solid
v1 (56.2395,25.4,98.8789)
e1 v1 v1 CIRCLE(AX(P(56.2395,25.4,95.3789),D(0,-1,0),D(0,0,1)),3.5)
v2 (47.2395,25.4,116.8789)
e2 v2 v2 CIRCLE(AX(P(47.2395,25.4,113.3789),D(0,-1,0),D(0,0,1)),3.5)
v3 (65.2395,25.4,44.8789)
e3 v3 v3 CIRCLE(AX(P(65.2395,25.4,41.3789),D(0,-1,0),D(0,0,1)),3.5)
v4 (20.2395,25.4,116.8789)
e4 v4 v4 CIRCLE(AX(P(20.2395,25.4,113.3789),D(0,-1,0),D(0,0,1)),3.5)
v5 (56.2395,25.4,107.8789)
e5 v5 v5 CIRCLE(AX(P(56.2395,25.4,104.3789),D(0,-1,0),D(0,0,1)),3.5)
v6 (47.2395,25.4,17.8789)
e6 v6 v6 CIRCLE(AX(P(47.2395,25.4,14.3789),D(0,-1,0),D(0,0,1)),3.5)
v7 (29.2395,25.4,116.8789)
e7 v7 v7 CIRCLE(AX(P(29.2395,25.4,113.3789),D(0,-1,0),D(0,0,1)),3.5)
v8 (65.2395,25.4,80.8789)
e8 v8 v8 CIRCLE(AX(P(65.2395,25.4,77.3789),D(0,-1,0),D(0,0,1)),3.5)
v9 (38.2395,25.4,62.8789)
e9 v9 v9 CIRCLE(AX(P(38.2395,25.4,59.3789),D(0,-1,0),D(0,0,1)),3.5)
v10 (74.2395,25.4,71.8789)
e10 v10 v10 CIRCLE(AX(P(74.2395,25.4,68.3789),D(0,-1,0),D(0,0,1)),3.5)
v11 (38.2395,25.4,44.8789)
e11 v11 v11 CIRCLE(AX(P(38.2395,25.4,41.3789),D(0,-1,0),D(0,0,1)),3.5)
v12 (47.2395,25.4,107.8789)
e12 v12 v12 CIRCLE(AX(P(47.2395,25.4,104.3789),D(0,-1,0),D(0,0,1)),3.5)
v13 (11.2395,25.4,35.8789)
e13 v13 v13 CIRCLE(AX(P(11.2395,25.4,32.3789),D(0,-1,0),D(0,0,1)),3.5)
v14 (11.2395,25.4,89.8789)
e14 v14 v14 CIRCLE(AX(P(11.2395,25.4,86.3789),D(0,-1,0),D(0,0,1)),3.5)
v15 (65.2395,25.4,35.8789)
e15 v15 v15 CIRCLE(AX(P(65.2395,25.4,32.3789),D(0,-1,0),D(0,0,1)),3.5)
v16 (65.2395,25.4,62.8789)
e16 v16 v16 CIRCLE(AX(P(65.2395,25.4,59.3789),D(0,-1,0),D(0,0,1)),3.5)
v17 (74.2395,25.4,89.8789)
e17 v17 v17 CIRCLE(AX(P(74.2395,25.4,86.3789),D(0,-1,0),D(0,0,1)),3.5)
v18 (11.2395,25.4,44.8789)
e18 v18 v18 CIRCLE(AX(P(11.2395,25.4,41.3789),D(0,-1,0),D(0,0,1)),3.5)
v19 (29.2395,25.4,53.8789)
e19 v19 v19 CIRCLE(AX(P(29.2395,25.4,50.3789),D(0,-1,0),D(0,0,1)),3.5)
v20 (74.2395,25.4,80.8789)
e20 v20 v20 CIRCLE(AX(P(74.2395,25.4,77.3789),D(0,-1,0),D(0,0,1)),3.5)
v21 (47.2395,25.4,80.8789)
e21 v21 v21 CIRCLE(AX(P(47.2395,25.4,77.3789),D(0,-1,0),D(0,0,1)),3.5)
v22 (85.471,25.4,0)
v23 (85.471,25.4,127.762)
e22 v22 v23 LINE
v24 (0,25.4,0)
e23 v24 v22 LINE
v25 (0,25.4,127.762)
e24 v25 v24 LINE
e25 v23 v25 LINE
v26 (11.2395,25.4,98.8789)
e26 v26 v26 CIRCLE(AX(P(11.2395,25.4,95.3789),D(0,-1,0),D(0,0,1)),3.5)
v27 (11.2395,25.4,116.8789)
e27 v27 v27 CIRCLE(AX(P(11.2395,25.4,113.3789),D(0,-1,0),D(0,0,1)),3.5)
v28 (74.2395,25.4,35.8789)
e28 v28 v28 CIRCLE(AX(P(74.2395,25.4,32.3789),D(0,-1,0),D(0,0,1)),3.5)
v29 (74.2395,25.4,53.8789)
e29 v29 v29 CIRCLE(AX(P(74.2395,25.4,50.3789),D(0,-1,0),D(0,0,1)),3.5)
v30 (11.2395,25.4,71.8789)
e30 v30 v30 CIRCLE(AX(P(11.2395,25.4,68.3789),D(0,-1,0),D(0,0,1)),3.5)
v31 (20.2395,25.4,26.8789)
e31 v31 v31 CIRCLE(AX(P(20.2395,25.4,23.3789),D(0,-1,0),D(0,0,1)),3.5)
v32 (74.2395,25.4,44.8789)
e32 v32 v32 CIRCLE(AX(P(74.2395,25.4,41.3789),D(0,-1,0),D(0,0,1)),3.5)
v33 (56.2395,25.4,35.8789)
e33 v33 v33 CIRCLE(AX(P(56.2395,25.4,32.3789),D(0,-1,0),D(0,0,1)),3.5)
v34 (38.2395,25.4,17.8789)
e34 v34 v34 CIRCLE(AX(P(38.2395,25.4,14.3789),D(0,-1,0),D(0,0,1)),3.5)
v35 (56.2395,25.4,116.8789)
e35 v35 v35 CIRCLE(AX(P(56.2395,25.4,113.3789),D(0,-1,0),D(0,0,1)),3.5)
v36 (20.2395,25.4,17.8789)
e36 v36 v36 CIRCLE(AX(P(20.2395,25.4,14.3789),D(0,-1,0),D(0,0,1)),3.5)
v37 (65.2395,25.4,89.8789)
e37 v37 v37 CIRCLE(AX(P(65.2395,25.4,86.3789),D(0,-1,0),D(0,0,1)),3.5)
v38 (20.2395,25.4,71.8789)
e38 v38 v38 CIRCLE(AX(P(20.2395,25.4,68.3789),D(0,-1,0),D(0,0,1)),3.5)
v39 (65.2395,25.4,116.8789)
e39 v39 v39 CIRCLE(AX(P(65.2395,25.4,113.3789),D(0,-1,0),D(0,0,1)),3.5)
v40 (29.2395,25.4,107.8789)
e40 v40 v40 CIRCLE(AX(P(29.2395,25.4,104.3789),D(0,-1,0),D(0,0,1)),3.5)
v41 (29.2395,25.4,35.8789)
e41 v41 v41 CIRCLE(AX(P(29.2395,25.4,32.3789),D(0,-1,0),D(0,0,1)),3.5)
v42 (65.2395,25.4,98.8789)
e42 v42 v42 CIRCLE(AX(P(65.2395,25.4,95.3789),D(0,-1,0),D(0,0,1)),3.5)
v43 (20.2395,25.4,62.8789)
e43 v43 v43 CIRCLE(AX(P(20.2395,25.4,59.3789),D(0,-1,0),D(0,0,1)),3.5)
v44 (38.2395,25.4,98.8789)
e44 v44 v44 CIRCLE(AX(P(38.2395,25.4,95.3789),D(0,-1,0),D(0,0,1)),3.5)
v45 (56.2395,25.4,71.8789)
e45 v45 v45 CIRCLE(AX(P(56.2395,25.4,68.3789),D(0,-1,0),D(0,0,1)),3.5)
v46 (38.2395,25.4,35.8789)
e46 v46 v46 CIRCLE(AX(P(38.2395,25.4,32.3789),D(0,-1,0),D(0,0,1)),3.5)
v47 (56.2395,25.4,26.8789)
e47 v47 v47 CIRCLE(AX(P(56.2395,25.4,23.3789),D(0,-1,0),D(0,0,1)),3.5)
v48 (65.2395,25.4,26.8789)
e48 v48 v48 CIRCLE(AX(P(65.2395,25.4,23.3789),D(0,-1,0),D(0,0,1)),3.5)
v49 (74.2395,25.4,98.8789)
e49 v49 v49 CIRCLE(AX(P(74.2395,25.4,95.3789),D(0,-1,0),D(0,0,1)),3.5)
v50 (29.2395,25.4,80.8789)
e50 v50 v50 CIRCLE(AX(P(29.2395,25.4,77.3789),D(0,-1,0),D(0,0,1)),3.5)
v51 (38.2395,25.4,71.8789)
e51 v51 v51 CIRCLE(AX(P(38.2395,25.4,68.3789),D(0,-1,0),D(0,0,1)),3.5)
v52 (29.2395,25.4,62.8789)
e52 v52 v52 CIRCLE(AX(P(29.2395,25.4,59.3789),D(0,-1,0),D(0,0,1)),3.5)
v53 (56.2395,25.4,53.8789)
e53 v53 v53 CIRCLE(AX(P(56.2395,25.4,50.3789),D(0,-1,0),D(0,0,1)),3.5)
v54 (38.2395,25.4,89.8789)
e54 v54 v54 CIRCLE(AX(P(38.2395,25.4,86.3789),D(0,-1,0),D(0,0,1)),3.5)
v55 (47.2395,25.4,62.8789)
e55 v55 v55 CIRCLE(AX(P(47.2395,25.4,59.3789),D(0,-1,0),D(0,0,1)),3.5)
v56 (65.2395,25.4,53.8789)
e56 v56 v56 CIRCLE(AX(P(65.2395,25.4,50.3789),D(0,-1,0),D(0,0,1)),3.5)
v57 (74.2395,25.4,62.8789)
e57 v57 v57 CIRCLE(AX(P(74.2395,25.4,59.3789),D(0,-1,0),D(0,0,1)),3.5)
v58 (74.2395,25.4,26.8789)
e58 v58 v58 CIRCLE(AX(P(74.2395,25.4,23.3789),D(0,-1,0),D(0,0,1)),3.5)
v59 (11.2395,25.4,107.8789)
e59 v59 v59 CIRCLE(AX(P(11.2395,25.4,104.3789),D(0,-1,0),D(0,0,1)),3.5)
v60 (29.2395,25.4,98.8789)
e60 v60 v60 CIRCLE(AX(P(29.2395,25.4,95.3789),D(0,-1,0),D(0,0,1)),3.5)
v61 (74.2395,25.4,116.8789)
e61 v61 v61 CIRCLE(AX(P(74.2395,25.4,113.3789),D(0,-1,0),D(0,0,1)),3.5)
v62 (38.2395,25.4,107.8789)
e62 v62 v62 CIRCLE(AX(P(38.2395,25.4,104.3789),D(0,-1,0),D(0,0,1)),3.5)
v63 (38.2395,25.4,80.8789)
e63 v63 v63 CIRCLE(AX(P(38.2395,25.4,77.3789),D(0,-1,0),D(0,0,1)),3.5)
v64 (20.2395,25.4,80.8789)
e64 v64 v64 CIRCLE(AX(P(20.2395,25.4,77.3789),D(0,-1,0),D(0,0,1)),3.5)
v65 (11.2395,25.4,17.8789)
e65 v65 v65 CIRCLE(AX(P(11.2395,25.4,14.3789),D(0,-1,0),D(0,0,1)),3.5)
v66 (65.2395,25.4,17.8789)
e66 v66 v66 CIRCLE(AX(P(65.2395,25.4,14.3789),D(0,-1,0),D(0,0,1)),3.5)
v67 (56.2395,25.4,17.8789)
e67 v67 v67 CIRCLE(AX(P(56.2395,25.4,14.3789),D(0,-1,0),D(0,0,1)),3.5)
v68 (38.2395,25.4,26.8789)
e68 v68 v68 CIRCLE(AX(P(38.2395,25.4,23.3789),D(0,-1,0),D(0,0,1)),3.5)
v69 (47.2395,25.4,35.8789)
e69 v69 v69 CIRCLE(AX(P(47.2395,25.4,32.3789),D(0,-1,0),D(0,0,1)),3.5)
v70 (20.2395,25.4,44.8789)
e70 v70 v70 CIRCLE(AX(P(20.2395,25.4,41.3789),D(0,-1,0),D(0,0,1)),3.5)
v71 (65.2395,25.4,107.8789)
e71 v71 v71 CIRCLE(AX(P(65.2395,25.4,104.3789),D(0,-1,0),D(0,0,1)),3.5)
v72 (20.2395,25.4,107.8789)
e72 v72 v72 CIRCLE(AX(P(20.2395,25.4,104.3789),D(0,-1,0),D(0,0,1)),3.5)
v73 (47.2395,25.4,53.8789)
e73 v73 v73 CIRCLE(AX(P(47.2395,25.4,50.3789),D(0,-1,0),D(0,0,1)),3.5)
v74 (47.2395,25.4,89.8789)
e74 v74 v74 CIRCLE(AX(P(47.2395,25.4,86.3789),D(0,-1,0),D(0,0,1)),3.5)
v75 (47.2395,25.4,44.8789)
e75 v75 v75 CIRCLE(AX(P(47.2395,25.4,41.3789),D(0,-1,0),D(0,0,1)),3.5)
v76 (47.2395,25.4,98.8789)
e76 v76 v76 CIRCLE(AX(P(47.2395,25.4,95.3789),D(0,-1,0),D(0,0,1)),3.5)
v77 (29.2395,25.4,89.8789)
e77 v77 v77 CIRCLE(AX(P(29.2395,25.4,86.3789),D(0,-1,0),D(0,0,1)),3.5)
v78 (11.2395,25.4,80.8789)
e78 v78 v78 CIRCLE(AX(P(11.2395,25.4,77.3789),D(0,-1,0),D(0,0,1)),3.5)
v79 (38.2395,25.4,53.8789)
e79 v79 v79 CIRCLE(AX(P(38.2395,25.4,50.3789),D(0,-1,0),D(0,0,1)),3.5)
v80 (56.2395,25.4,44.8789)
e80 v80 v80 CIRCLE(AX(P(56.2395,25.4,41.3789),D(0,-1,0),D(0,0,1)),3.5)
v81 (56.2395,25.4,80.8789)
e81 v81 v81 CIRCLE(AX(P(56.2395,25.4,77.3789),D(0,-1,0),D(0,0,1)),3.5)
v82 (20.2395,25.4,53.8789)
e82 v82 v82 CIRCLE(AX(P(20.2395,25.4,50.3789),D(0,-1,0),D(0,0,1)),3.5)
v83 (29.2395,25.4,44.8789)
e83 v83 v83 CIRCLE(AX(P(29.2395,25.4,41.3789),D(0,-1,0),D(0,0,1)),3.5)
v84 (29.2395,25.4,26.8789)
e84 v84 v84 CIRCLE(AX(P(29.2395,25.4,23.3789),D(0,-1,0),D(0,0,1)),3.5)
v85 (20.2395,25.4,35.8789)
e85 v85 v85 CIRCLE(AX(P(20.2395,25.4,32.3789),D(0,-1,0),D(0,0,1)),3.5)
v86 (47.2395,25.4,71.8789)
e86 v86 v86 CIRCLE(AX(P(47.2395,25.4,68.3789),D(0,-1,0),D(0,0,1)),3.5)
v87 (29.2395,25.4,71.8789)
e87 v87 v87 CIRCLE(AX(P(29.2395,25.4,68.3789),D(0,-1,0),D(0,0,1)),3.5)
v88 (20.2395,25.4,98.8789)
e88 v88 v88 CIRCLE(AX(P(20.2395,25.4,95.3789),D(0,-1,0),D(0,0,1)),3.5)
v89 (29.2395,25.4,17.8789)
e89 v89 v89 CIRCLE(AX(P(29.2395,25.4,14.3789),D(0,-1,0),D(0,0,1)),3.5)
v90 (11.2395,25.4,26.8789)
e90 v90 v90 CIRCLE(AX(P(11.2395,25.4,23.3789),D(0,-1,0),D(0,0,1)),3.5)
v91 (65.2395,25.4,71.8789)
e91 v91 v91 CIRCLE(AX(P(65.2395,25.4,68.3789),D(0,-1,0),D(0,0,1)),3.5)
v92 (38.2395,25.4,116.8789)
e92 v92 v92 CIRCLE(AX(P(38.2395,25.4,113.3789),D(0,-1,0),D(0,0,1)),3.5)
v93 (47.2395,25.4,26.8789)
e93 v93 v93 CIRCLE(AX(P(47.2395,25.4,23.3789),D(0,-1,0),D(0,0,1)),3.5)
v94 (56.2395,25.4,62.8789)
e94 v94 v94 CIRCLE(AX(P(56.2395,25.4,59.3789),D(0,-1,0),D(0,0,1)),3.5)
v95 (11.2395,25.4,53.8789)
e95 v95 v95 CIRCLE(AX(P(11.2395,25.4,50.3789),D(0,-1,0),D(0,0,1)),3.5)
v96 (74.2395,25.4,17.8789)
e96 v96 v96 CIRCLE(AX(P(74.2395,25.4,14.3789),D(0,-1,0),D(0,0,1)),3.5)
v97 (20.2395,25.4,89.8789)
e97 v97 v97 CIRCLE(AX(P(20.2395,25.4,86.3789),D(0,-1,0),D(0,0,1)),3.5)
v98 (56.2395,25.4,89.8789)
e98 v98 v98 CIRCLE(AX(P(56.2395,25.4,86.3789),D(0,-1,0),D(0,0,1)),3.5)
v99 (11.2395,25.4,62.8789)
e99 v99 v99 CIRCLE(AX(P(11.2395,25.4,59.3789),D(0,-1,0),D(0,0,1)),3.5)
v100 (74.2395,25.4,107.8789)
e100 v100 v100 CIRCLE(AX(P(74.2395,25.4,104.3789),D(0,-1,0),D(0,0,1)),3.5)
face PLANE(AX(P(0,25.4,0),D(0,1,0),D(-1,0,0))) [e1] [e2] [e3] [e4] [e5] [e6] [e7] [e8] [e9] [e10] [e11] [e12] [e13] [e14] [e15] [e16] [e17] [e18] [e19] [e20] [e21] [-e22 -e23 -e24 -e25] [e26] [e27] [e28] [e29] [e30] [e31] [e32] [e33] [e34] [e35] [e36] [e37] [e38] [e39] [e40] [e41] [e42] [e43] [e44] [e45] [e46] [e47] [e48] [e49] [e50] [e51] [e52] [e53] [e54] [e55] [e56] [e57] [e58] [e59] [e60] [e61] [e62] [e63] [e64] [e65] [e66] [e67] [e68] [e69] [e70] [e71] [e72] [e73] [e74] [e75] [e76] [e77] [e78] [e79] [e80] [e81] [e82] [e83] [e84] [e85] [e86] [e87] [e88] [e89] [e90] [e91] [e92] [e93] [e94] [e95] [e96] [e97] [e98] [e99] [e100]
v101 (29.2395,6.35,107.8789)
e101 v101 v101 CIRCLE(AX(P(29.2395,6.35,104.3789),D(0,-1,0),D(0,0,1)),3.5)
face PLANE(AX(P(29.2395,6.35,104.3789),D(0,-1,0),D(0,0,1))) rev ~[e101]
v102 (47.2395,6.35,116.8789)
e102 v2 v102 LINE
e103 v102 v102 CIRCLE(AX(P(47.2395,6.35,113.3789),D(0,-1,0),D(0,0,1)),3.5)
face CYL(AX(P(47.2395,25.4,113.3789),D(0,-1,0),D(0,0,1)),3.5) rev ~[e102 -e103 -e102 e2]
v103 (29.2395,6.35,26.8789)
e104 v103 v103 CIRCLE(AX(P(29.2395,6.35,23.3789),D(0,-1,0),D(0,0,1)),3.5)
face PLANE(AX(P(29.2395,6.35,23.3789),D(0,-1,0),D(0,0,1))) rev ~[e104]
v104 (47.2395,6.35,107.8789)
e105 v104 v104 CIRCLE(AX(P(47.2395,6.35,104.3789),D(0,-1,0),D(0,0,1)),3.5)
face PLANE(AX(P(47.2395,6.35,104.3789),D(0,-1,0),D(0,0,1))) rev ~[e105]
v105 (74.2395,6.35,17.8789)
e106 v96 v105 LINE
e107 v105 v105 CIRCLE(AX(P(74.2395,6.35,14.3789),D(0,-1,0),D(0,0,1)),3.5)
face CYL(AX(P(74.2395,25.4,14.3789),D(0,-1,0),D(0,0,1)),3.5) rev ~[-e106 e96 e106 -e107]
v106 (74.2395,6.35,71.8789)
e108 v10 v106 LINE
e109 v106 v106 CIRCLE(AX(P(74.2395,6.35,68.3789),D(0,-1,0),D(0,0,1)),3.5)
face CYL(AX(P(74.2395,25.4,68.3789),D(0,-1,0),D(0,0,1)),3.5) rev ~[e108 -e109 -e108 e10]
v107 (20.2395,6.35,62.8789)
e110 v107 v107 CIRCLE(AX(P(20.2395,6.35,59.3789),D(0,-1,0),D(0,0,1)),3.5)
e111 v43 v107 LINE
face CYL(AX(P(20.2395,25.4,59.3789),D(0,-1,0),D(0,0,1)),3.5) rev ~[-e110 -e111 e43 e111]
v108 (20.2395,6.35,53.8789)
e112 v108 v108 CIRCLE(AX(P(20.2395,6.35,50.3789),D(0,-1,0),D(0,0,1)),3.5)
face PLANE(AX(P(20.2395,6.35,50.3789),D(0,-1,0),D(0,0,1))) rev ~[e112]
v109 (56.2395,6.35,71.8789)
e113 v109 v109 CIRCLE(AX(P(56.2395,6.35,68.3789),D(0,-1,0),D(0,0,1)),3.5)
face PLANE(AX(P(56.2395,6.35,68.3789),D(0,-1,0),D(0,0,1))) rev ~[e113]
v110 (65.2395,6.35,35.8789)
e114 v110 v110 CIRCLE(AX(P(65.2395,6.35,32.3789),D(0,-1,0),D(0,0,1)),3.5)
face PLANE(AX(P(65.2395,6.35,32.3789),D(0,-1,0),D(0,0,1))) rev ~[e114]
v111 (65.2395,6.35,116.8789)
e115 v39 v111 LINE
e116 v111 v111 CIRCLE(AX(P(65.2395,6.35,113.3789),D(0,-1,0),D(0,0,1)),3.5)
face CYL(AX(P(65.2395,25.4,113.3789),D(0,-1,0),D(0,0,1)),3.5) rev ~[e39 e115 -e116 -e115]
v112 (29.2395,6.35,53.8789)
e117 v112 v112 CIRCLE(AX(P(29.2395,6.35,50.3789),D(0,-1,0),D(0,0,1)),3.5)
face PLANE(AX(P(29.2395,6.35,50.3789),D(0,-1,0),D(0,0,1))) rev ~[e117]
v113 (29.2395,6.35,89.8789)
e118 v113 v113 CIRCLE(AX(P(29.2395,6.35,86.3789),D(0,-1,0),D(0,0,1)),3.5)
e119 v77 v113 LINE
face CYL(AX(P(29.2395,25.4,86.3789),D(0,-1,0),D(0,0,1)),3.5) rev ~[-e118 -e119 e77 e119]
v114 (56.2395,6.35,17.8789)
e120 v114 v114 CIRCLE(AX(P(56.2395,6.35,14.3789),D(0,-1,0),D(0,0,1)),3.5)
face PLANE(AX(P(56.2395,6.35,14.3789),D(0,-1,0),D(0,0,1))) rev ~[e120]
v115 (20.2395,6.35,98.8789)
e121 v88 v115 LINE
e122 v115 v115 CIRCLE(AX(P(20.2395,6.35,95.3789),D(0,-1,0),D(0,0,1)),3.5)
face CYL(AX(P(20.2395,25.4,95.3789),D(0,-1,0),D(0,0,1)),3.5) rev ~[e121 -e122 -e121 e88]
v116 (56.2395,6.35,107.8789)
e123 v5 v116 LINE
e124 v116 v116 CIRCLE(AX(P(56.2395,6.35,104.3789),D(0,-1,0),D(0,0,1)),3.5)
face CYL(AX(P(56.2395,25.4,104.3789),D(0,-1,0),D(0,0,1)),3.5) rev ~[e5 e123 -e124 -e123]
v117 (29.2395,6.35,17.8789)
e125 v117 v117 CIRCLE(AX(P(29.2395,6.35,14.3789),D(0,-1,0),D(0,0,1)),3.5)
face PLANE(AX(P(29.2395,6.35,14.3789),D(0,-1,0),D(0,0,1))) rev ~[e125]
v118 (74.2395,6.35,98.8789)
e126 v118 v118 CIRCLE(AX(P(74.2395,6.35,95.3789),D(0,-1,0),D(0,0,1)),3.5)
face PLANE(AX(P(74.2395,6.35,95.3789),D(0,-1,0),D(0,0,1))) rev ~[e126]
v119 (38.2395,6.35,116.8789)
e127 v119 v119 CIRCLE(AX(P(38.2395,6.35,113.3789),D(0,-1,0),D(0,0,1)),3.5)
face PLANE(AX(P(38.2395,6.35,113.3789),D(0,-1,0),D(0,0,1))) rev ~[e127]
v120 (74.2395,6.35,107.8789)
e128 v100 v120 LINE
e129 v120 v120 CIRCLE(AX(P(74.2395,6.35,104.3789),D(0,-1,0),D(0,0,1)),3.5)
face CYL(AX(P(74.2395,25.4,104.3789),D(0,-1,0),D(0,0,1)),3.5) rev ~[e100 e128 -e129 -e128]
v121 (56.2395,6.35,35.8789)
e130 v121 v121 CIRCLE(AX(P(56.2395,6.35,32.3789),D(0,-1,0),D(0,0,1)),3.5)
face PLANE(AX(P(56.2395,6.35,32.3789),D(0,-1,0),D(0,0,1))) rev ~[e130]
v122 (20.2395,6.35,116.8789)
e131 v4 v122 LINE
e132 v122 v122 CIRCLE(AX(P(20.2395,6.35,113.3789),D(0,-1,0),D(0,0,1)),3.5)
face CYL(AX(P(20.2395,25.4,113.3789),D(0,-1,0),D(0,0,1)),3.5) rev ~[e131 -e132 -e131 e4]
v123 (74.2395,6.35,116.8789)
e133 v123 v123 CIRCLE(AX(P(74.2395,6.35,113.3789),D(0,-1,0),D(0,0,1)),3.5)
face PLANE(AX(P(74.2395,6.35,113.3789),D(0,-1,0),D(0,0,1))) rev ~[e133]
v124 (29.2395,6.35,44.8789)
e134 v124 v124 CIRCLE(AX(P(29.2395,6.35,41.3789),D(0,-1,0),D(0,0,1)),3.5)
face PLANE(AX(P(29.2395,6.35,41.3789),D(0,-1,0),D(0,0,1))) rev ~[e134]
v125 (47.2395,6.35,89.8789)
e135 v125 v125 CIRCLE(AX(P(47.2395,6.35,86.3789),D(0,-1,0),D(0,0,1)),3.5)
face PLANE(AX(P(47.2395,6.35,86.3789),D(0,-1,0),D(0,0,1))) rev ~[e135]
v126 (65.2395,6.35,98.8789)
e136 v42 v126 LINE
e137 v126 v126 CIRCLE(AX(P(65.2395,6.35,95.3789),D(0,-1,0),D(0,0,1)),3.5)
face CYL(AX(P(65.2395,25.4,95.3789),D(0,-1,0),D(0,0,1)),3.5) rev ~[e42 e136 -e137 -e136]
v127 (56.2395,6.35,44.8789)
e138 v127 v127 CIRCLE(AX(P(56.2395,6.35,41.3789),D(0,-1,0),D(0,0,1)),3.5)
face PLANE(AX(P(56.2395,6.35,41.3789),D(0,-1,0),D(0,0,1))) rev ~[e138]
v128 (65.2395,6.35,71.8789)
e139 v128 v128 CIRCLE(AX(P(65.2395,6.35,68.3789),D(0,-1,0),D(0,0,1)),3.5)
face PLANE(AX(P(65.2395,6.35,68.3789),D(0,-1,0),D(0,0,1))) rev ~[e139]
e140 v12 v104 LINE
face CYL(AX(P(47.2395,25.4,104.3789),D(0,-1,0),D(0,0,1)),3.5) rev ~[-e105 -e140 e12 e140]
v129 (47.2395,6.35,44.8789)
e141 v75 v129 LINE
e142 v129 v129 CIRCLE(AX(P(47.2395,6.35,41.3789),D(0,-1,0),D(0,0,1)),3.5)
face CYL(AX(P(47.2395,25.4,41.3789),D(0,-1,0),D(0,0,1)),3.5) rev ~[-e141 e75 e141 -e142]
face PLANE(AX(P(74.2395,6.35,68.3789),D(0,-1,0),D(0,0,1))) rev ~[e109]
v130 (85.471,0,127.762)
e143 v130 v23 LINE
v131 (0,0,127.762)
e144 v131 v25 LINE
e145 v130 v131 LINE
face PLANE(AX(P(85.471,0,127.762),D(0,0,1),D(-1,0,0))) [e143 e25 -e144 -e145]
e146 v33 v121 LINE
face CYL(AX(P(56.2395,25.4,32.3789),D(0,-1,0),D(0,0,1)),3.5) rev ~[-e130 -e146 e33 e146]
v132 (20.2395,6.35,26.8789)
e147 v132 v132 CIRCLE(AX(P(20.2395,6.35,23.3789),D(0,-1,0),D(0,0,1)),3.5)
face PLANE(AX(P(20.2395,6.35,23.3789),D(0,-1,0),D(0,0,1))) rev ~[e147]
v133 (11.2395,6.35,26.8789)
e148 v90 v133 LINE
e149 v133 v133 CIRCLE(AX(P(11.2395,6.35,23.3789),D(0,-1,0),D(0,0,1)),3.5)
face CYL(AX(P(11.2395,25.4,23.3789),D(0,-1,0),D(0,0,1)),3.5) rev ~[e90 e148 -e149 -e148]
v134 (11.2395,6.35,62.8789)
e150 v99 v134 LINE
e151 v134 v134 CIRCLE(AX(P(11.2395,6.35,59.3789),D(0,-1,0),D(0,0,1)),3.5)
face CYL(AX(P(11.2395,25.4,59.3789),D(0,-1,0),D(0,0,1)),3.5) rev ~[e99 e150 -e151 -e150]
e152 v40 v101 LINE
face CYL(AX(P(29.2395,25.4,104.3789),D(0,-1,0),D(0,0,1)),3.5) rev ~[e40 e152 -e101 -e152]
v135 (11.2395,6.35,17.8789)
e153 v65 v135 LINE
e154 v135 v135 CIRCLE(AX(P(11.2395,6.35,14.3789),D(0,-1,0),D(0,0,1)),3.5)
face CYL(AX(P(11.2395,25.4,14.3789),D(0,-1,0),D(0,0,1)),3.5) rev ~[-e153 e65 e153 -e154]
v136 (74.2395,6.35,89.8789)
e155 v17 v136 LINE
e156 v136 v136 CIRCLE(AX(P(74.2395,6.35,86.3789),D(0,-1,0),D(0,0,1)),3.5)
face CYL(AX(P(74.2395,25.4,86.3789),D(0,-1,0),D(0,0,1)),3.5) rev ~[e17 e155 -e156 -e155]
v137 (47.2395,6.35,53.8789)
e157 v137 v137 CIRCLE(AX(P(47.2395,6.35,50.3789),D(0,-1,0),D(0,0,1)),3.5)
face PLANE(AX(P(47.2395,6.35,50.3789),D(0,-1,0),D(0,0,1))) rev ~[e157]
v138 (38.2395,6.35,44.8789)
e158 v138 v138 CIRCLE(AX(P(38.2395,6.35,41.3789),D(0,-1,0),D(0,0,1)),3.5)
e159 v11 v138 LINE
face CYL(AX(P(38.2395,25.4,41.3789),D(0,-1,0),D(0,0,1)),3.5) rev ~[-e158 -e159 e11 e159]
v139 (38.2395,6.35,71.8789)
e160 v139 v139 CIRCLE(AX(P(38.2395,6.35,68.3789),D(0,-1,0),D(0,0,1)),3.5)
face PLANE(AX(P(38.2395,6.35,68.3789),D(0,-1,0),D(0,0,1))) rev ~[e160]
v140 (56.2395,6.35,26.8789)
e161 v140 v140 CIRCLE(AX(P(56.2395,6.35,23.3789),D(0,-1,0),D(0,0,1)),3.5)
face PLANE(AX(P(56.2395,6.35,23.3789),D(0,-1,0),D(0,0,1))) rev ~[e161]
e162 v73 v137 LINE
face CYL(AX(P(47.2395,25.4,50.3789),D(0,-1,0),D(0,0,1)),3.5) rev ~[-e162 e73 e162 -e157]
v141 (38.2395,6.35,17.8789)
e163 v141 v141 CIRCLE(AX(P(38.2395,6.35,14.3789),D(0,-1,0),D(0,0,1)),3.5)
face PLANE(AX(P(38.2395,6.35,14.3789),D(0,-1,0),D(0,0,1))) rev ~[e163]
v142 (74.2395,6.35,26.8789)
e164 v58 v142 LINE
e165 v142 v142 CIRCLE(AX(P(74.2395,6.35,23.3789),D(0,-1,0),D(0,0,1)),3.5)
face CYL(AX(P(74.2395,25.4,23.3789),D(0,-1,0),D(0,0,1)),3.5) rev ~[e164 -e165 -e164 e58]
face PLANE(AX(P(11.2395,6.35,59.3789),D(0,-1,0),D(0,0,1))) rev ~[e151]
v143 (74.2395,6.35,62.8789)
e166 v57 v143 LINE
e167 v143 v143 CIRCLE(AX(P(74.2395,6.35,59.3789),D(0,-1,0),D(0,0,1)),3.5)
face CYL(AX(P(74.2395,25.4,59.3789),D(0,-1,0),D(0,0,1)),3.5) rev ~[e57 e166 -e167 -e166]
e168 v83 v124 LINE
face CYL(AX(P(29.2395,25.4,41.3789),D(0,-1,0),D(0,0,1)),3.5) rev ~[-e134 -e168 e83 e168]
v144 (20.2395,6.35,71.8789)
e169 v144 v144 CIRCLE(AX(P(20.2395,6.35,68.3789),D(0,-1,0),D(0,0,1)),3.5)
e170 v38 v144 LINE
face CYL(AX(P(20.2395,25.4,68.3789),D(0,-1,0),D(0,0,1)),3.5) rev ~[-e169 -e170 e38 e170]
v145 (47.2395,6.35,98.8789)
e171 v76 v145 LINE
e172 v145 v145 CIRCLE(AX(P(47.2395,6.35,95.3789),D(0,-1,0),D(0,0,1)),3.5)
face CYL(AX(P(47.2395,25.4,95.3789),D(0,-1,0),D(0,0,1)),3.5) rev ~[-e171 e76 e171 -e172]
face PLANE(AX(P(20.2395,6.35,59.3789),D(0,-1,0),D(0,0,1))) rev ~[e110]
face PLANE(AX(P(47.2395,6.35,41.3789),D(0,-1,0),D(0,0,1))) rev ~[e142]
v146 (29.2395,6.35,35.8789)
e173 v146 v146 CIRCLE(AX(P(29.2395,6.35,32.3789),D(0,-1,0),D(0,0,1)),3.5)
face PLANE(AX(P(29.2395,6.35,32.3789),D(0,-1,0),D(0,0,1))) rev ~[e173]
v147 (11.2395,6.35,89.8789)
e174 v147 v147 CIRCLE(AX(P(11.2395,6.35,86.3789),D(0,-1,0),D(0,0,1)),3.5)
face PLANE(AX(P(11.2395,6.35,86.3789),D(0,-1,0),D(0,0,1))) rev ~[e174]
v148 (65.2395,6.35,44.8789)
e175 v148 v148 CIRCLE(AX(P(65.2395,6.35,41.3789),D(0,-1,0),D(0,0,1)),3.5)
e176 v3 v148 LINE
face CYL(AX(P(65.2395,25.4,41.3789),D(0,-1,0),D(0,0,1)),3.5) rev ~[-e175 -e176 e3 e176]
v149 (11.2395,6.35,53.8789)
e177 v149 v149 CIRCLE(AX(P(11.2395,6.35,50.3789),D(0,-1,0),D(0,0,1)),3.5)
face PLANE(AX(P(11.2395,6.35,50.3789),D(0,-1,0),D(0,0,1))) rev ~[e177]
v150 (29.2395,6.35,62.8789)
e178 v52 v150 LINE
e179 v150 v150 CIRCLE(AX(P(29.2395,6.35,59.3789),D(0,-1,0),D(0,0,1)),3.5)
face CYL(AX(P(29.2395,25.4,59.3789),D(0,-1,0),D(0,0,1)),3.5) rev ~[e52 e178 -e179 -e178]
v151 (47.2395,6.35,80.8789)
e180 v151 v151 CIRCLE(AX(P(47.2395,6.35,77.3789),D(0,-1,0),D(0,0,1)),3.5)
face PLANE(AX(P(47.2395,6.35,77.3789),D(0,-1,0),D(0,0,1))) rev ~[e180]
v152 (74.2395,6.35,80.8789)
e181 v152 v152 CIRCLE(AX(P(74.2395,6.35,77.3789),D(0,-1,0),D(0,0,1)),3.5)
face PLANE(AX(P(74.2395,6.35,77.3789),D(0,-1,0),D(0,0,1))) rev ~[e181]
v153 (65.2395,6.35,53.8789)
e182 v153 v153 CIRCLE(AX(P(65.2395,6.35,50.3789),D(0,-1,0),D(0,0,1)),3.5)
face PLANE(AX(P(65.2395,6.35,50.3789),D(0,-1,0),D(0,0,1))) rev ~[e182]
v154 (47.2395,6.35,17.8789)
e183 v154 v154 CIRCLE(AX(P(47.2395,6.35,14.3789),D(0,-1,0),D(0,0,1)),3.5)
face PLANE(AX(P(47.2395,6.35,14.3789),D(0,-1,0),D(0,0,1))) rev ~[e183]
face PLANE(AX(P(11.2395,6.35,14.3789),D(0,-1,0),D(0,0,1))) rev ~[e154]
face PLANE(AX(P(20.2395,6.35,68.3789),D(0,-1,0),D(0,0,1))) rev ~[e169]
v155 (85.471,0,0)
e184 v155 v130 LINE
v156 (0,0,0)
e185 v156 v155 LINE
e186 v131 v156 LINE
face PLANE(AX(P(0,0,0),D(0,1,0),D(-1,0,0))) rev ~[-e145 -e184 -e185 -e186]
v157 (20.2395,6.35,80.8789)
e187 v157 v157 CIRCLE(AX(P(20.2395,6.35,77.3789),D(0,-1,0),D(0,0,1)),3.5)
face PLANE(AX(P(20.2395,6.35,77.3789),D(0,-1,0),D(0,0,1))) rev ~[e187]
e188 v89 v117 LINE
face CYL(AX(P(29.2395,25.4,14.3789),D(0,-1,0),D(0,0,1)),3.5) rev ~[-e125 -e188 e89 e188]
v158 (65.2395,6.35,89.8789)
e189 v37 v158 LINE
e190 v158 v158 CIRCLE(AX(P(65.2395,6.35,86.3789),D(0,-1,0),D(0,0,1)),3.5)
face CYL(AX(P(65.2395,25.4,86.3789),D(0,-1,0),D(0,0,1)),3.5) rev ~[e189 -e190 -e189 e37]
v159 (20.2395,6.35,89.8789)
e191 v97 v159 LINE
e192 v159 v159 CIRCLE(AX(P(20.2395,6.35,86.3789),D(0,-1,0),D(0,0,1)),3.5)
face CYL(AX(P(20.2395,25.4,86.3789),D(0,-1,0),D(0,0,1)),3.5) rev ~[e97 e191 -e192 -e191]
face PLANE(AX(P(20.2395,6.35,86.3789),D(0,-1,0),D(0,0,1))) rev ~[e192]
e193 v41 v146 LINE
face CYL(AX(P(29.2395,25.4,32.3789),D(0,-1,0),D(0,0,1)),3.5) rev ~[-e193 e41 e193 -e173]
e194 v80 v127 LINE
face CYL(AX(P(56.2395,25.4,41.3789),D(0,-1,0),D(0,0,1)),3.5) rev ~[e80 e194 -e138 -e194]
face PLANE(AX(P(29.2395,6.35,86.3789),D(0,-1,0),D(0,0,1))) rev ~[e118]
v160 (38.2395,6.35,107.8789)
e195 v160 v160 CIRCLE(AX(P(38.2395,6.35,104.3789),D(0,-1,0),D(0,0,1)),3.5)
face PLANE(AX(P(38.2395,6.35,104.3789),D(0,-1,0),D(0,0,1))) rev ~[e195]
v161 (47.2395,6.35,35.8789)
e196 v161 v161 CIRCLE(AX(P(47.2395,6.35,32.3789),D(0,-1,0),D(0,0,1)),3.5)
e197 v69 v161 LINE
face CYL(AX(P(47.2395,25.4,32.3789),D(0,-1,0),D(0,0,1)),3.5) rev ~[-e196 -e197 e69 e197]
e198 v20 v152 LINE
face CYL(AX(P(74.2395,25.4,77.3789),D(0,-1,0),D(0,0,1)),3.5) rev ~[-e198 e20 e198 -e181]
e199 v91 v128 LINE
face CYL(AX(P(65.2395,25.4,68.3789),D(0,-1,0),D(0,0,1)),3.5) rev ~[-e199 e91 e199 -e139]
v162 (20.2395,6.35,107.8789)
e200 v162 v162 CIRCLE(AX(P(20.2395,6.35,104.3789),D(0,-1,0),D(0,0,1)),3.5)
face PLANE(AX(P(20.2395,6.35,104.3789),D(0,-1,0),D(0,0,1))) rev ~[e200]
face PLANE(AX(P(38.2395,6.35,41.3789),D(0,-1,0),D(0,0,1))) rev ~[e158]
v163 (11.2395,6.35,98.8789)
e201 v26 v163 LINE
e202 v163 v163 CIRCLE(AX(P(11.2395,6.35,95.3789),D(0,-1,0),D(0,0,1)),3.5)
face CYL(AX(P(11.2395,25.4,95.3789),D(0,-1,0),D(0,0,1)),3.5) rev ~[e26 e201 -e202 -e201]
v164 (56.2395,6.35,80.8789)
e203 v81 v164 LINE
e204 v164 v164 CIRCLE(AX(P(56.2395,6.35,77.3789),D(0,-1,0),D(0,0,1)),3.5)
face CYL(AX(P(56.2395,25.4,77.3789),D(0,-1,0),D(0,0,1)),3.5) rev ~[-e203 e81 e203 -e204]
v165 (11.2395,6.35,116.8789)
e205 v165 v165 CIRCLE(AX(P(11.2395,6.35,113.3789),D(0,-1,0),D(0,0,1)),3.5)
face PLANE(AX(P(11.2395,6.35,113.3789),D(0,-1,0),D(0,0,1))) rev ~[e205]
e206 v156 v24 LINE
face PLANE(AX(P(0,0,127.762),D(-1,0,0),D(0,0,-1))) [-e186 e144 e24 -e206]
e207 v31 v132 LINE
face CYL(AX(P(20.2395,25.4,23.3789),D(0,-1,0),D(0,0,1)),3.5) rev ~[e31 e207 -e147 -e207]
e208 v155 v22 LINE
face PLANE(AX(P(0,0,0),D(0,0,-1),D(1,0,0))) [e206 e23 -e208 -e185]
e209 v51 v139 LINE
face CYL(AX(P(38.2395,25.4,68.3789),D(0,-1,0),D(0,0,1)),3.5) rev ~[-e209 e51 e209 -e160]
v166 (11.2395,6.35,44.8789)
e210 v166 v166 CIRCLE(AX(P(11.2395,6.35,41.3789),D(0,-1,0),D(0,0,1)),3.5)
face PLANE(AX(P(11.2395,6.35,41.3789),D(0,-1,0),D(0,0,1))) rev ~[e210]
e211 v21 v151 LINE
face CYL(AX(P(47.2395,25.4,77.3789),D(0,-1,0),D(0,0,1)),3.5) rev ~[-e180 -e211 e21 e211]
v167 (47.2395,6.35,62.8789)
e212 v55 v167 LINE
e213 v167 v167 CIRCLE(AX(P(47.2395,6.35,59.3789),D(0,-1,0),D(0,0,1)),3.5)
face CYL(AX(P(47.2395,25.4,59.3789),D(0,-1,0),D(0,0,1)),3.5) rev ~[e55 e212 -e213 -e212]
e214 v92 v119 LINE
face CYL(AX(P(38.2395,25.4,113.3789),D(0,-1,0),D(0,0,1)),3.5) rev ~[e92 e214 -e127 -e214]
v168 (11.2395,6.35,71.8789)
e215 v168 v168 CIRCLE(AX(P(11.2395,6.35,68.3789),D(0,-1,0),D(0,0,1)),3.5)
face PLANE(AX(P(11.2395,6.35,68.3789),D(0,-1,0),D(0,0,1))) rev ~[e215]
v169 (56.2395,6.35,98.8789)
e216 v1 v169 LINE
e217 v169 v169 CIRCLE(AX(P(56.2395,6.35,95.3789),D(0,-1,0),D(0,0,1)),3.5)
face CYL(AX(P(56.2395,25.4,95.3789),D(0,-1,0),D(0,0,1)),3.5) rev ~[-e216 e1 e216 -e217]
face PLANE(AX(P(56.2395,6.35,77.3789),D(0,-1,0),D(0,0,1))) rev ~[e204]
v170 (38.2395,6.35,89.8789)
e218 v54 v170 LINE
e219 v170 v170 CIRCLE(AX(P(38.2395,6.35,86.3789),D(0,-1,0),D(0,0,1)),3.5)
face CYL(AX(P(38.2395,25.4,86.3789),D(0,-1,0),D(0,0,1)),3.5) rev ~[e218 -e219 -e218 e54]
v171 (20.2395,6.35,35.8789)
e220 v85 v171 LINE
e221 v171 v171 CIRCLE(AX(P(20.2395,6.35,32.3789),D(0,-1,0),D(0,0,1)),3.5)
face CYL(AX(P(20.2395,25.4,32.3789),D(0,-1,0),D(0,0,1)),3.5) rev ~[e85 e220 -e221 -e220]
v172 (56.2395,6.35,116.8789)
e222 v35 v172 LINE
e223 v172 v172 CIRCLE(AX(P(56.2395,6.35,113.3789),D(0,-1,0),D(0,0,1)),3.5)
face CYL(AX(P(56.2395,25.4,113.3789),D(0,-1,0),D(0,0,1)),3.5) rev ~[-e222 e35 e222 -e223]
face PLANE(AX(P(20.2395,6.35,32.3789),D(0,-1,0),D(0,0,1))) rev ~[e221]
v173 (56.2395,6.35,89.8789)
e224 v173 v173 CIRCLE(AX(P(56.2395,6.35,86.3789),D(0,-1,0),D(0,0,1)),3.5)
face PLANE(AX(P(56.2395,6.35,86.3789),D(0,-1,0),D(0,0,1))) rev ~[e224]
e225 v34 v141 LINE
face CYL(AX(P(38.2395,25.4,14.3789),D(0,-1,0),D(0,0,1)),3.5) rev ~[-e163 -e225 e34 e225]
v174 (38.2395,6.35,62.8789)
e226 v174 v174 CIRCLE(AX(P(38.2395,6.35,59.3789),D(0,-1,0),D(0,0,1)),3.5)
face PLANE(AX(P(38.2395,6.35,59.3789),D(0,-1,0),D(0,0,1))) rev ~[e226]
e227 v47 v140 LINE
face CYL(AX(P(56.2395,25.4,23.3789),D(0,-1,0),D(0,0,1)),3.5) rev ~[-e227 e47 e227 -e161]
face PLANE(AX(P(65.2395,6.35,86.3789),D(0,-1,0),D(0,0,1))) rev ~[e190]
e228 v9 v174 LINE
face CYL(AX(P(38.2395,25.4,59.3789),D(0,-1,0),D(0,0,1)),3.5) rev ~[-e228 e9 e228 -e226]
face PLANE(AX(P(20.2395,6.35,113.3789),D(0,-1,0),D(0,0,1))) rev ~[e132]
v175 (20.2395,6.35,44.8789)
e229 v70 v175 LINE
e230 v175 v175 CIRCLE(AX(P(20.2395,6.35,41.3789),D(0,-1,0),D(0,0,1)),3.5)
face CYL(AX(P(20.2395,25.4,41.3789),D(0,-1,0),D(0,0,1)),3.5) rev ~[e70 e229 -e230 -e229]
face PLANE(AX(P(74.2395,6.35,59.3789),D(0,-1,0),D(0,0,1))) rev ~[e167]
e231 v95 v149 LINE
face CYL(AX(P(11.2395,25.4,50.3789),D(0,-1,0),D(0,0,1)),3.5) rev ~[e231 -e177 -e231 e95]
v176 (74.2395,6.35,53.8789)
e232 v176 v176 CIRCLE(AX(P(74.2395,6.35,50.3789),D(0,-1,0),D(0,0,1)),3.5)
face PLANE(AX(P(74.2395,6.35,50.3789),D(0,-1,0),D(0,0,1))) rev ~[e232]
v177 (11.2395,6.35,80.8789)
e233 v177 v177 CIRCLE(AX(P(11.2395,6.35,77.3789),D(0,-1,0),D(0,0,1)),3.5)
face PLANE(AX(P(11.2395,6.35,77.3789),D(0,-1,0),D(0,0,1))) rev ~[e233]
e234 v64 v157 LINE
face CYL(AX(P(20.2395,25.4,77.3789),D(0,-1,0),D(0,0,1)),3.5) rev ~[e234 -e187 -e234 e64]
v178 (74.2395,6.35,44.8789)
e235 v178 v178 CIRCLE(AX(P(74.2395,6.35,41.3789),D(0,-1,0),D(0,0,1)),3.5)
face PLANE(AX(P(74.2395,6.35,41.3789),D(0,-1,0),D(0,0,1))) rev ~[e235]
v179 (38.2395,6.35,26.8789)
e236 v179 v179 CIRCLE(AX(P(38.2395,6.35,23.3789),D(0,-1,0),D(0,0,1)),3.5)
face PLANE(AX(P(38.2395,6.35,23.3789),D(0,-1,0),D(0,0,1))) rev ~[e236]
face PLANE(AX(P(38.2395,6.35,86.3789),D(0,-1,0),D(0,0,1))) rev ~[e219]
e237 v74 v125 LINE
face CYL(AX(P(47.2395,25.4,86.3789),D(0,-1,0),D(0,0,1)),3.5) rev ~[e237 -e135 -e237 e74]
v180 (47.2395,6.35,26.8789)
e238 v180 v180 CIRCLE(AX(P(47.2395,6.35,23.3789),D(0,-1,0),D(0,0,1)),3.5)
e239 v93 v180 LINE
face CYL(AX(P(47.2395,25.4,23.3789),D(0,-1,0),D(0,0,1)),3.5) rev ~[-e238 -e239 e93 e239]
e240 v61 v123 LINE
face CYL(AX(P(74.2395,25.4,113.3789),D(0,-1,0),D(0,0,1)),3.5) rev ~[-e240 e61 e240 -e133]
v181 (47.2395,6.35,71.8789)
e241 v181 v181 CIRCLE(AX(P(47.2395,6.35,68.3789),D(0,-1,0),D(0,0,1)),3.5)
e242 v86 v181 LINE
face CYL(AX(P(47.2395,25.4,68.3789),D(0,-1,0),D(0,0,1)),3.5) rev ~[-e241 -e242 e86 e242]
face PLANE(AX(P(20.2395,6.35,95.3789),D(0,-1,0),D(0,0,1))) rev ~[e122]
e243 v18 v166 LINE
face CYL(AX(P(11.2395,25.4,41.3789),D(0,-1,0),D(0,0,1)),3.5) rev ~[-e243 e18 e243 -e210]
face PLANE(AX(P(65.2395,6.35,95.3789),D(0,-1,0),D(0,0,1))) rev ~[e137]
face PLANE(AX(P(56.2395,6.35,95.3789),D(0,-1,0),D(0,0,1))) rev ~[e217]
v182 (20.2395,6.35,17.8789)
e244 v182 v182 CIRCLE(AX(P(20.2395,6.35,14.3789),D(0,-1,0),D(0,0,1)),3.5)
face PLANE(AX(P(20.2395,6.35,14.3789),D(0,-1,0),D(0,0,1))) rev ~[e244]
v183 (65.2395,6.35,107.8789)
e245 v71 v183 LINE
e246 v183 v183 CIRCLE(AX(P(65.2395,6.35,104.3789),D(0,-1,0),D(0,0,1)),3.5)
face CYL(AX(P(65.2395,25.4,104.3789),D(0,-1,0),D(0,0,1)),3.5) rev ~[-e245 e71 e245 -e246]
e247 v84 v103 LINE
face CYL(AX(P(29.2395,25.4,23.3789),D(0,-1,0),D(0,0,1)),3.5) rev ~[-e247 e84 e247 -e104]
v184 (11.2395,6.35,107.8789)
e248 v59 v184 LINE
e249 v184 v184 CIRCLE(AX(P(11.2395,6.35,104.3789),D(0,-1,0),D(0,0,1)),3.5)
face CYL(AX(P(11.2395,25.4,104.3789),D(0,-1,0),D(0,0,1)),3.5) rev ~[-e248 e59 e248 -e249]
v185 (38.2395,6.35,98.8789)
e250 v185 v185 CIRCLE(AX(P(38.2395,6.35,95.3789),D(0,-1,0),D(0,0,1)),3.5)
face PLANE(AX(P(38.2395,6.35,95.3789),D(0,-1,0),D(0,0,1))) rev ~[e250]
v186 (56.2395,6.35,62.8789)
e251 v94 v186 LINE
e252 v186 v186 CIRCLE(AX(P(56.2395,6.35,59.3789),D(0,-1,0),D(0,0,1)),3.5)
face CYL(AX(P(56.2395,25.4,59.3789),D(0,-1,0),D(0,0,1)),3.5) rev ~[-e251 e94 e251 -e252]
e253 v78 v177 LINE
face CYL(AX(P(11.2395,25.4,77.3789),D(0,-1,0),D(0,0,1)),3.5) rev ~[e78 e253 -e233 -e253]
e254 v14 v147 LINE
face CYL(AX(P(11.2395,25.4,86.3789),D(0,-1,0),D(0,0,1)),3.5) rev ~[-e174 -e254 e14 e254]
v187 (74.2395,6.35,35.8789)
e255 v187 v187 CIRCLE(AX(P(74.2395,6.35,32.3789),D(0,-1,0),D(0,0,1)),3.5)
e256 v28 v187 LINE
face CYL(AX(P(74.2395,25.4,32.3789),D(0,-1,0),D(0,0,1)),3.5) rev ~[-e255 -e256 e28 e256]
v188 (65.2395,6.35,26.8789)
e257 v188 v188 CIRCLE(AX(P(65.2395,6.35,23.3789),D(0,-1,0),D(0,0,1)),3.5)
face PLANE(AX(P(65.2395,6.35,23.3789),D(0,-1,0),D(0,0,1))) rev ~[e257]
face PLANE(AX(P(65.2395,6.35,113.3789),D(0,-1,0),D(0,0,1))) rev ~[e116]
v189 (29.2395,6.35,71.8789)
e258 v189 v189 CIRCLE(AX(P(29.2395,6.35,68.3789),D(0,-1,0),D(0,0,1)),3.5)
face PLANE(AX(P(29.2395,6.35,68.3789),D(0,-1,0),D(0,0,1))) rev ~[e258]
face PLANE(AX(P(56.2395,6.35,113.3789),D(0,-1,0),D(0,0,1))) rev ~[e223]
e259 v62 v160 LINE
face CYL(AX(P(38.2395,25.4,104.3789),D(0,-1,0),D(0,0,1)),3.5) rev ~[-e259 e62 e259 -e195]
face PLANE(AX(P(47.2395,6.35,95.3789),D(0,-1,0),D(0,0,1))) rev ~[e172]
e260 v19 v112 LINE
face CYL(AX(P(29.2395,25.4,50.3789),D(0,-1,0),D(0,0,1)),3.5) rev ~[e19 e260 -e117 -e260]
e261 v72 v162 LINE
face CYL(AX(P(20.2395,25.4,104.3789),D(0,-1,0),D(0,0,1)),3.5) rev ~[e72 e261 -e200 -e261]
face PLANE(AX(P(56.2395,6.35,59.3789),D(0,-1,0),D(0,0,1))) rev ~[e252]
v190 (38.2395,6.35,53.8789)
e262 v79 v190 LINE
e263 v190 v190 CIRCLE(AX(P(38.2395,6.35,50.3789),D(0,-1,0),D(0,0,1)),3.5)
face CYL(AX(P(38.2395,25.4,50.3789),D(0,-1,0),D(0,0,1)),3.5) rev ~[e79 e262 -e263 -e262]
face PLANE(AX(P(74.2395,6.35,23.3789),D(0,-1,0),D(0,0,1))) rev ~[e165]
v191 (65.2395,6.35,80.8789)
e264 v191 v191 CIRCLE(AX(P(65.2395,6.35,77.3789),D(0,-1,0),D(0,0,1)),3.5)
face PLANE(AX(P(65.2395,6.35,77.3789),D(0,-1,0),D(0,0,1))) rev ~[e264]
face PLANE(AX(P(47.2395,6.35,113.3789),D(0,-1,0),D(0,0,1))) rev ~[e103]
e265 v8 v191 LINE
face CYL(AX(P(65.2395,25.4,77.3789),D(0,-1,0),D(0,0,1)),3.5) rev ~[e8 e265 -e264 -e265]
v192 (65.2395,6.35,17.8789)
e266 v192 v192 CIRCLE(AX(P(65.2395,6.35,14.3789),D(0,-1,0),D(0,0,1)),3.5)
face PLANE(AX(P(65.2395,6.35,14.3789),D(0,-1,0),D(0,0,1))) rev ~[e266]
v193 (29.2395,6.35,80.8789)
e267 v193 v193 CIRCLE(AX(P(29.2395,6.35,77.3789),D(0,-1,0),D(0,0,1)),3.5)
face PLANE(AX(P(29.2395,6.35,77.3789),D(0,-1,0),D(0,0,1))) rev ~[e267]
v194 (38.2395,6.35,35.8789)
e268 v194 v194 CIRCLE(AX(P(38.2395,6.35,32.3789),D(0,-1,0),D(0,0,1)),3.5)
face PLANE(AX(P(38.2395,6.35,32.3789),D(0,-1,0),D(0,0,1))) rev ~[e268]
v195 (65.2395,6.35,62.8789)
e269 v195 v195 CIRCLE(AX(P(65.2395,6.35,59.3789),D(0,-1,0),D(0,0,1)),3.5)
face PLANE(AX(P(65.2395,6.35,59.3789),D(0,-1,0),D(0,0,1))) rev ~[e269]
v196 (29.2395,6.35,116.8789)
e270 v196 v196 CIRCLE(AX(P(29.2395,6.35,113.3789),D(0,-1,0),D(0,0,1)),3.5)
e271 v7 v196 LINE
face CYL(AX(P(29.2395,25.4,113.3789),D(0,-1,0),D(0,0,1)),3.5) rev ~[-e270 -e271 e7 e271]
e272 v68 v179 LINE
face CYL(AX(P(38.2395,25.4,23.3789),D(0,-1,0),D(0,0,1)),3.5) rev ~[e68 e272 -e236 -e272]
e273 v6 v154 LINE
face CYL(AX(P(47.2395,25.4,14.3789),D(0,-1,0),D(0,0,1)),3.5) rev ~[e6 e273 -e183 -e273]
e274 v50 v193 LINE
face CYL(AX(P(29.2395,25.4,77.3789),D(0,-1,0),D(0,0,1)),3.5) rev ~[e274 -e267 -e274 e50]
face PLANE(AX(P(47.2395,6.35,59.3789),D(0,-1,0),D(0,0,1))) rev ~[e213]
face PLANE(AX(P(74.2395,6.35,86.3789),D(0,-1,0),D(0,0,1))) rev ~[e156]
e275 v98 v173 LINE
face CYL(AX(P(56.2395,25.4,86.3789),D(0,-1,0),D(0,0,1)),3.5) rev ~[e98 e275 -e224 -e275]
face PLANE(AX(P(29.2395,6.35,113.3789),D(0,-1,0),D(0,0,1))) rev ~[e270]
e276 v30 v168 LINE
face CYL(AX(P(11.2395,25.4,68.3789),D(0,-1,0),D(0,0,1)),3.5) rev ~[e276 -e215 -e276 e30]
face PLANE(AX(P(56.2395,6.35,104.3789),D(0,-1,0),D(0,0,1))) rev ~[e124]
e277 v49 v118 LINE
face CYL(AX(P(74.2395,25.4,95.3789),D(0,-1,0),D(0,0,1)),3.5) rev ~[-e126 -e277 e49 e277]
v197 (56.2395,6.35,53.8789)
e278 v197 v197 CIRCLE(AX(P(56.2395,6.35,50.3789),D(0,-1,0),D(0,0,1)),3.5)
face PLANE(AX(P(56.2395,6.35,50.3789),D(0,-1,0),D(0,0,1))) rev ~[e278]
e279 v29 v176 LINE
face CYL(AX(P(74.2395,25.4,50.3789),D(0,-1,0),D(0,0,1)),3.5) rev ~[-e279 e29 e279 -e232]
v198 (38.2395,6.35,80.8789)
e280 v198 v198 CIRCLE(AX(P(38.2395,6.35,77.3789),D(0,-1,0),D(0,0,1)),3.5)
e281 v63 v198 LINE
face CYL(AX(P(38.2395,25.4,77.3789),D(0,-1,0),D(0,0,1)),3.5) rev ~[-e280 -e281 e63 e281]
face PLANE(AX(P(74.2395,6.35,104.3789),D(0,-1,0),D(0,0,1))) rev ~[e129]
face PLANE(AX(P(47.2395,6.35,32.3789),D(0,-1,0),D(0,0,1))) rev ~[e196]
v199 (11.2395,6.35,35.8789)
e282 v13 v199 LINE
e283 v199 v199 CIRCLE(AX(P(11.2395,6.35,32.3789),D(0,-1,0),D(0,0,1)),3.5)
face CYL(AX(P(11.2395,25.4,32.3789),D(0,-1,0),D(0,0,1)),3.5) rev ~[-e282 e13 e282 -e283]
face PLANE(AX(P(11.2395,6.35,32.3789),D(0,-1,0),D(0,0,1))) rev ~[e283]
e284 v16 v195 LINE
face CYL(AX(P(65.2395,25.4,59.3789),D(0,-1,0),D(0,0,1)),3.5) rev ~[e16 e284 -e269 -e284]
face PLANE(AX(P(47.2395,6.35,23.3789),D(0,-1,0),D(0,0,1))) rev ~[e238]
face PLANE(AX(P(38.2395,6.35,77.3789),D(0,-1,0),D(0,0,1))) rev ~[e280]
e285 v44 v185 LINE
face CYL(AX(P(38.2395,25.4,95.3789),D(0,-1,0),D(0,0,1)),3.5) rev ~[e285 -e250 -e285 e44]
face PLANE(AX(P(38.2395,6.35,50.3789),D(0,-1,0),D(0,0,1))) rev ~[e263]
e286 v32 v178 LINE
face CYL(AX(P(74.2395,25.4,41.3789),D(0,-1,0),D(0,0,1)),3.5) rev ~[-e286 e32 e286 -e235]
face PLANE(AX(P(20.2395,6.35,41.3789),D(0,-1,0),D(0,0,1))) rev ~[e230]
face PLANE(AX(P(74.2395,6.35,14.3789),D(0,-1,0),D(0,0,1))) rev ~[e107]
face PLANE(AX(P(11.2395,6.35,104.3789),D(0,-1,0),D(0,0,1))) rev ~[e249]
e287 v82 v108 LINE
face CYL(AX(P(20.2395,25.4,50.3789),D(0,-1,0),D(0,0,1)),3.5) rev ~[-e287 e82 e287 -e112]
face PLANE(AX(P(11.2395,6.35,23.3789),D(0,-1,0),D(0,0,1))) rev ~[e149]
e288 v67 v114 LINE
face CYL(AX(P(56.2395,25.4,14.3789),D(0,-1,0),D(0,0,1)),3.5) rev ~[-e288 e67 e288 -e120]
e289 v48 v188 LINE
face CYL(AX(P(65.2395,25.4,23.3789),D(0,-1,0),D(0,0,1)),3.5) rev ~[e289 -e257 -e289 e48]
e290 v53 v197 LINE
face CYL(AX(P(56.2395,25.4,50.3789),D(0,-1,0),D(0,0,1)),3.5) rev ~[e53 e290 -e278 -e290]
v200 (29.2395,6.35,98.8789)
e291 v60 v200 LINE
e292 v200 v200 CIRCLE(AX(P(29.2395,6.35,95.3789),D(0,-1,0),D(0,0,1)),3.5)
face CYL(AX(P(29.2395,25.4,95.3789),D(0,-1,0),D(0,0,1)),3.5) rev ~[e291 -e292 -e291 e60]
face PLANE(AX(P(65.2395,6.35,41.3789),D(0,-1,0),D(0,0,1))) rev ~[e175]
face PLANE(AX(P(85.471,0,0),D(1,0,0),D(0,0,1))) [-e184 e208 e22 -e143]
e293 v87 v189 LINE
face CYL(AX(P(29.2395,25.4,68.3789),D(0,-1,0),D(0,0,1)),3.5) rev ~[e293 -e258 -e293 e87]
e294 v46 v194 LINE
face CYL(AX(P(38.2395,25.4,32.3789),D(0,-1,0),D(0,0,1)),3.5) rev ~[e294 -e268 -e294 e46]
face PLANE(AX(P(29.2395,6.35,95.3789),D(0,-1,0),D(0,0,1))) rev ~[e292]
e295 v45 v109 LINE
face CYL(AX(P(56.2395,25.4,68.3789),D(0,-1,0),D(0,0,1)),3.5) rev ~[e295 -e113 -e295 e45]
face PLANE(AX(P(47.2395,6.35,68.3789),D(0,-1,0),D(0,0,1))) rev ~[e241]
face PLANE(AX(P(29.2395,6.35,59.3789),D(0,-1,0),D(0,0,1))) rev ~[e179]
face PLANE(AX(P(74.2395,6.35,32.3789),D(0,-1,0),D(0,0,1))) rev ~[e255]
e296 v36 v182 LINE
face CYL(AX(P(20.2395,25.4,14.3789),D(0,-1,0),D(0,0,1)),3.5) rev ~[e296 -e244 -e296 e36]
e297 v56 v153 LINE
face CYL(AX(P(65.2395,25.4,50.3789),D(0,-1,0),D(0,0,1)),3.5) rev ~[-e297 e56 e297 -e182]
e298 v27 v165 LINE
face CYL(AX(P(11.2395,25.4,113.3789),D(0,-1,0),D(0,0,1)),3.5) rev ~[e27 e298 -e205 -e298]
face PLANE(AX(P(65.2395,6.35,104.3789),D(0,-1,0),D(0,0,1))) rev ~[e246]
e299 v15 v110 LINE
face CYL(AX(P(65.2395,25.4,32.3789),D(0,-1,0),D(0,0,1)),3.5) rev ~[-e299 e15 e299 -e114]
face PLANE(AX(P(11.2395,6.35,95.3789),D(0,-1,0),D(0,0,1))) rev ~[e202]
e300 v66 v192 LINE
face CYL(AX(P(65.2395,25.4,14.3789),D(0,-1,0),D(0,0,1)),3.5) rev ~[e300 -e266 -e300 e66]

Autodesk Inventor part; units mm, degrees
ref_plane "YZ Plane" through (0, 0, 0) normal (1, 0, 0) x (0, 1, 0)
ref_plane "XZ Plane" through (0, 0, 0) normal (0, 1, 0) x (-1, 0, 0)
ref_plane "XY Plane" through (0, 0, 0) normal (0, 0, 1) x (1, 0, 0)
sketch "Sketch1" plane through (0, 0, 0) normal (0, 1, 0) x (-1, 0, 0)
  line L0 (0, 0) -> (-85.471, 0)
  line L1 (-85.471, 0) -> (-85.471, 127.762)
  line L2 (-85.471, 127.762) -> (0, 127.762)
  line L3 (0, 127.762) -> (0, 0)
  dimension "d0" = 85.471
  dimension "d1" = 127.762
extrude "Extrusion1" add sketch "Sketch1" along normal blind 25.4
sketch "Sketch2" plane through (0, 25.4, 0) normal (0, 1, 0) x (1, 0, 0)
  line L0 (85.471, 0) -> (0, 0) projected
  line L1 (0, 0) -> (11.2395, 0)
  line L2 (11.2395, 0) -> (11.2395, -14.3789)
  line L3 (11.2395, -14.3789) -> (0, -14.3789)
  line L4 (0, -14.3789) -> (0, 0)
  circle A0 centre (11.2395, -14.3789) radius 3.5
  dimension "d4" = 11.2395
  dimension "d5" = 14.3789
  dimension "d6" = 7
hole "Hole1" at (11.2395, 25.4, 14.3789) direction (0, -1, 0) diameter 7 depth 19.05
pattern_linear "Rectangular Pattern1" count 8 spacing 9 along (1, 0, 0) count 12 spacing 9 along (0, 0, 1) of "Hole1"
properties part number "PTFE casting tray-btm"
